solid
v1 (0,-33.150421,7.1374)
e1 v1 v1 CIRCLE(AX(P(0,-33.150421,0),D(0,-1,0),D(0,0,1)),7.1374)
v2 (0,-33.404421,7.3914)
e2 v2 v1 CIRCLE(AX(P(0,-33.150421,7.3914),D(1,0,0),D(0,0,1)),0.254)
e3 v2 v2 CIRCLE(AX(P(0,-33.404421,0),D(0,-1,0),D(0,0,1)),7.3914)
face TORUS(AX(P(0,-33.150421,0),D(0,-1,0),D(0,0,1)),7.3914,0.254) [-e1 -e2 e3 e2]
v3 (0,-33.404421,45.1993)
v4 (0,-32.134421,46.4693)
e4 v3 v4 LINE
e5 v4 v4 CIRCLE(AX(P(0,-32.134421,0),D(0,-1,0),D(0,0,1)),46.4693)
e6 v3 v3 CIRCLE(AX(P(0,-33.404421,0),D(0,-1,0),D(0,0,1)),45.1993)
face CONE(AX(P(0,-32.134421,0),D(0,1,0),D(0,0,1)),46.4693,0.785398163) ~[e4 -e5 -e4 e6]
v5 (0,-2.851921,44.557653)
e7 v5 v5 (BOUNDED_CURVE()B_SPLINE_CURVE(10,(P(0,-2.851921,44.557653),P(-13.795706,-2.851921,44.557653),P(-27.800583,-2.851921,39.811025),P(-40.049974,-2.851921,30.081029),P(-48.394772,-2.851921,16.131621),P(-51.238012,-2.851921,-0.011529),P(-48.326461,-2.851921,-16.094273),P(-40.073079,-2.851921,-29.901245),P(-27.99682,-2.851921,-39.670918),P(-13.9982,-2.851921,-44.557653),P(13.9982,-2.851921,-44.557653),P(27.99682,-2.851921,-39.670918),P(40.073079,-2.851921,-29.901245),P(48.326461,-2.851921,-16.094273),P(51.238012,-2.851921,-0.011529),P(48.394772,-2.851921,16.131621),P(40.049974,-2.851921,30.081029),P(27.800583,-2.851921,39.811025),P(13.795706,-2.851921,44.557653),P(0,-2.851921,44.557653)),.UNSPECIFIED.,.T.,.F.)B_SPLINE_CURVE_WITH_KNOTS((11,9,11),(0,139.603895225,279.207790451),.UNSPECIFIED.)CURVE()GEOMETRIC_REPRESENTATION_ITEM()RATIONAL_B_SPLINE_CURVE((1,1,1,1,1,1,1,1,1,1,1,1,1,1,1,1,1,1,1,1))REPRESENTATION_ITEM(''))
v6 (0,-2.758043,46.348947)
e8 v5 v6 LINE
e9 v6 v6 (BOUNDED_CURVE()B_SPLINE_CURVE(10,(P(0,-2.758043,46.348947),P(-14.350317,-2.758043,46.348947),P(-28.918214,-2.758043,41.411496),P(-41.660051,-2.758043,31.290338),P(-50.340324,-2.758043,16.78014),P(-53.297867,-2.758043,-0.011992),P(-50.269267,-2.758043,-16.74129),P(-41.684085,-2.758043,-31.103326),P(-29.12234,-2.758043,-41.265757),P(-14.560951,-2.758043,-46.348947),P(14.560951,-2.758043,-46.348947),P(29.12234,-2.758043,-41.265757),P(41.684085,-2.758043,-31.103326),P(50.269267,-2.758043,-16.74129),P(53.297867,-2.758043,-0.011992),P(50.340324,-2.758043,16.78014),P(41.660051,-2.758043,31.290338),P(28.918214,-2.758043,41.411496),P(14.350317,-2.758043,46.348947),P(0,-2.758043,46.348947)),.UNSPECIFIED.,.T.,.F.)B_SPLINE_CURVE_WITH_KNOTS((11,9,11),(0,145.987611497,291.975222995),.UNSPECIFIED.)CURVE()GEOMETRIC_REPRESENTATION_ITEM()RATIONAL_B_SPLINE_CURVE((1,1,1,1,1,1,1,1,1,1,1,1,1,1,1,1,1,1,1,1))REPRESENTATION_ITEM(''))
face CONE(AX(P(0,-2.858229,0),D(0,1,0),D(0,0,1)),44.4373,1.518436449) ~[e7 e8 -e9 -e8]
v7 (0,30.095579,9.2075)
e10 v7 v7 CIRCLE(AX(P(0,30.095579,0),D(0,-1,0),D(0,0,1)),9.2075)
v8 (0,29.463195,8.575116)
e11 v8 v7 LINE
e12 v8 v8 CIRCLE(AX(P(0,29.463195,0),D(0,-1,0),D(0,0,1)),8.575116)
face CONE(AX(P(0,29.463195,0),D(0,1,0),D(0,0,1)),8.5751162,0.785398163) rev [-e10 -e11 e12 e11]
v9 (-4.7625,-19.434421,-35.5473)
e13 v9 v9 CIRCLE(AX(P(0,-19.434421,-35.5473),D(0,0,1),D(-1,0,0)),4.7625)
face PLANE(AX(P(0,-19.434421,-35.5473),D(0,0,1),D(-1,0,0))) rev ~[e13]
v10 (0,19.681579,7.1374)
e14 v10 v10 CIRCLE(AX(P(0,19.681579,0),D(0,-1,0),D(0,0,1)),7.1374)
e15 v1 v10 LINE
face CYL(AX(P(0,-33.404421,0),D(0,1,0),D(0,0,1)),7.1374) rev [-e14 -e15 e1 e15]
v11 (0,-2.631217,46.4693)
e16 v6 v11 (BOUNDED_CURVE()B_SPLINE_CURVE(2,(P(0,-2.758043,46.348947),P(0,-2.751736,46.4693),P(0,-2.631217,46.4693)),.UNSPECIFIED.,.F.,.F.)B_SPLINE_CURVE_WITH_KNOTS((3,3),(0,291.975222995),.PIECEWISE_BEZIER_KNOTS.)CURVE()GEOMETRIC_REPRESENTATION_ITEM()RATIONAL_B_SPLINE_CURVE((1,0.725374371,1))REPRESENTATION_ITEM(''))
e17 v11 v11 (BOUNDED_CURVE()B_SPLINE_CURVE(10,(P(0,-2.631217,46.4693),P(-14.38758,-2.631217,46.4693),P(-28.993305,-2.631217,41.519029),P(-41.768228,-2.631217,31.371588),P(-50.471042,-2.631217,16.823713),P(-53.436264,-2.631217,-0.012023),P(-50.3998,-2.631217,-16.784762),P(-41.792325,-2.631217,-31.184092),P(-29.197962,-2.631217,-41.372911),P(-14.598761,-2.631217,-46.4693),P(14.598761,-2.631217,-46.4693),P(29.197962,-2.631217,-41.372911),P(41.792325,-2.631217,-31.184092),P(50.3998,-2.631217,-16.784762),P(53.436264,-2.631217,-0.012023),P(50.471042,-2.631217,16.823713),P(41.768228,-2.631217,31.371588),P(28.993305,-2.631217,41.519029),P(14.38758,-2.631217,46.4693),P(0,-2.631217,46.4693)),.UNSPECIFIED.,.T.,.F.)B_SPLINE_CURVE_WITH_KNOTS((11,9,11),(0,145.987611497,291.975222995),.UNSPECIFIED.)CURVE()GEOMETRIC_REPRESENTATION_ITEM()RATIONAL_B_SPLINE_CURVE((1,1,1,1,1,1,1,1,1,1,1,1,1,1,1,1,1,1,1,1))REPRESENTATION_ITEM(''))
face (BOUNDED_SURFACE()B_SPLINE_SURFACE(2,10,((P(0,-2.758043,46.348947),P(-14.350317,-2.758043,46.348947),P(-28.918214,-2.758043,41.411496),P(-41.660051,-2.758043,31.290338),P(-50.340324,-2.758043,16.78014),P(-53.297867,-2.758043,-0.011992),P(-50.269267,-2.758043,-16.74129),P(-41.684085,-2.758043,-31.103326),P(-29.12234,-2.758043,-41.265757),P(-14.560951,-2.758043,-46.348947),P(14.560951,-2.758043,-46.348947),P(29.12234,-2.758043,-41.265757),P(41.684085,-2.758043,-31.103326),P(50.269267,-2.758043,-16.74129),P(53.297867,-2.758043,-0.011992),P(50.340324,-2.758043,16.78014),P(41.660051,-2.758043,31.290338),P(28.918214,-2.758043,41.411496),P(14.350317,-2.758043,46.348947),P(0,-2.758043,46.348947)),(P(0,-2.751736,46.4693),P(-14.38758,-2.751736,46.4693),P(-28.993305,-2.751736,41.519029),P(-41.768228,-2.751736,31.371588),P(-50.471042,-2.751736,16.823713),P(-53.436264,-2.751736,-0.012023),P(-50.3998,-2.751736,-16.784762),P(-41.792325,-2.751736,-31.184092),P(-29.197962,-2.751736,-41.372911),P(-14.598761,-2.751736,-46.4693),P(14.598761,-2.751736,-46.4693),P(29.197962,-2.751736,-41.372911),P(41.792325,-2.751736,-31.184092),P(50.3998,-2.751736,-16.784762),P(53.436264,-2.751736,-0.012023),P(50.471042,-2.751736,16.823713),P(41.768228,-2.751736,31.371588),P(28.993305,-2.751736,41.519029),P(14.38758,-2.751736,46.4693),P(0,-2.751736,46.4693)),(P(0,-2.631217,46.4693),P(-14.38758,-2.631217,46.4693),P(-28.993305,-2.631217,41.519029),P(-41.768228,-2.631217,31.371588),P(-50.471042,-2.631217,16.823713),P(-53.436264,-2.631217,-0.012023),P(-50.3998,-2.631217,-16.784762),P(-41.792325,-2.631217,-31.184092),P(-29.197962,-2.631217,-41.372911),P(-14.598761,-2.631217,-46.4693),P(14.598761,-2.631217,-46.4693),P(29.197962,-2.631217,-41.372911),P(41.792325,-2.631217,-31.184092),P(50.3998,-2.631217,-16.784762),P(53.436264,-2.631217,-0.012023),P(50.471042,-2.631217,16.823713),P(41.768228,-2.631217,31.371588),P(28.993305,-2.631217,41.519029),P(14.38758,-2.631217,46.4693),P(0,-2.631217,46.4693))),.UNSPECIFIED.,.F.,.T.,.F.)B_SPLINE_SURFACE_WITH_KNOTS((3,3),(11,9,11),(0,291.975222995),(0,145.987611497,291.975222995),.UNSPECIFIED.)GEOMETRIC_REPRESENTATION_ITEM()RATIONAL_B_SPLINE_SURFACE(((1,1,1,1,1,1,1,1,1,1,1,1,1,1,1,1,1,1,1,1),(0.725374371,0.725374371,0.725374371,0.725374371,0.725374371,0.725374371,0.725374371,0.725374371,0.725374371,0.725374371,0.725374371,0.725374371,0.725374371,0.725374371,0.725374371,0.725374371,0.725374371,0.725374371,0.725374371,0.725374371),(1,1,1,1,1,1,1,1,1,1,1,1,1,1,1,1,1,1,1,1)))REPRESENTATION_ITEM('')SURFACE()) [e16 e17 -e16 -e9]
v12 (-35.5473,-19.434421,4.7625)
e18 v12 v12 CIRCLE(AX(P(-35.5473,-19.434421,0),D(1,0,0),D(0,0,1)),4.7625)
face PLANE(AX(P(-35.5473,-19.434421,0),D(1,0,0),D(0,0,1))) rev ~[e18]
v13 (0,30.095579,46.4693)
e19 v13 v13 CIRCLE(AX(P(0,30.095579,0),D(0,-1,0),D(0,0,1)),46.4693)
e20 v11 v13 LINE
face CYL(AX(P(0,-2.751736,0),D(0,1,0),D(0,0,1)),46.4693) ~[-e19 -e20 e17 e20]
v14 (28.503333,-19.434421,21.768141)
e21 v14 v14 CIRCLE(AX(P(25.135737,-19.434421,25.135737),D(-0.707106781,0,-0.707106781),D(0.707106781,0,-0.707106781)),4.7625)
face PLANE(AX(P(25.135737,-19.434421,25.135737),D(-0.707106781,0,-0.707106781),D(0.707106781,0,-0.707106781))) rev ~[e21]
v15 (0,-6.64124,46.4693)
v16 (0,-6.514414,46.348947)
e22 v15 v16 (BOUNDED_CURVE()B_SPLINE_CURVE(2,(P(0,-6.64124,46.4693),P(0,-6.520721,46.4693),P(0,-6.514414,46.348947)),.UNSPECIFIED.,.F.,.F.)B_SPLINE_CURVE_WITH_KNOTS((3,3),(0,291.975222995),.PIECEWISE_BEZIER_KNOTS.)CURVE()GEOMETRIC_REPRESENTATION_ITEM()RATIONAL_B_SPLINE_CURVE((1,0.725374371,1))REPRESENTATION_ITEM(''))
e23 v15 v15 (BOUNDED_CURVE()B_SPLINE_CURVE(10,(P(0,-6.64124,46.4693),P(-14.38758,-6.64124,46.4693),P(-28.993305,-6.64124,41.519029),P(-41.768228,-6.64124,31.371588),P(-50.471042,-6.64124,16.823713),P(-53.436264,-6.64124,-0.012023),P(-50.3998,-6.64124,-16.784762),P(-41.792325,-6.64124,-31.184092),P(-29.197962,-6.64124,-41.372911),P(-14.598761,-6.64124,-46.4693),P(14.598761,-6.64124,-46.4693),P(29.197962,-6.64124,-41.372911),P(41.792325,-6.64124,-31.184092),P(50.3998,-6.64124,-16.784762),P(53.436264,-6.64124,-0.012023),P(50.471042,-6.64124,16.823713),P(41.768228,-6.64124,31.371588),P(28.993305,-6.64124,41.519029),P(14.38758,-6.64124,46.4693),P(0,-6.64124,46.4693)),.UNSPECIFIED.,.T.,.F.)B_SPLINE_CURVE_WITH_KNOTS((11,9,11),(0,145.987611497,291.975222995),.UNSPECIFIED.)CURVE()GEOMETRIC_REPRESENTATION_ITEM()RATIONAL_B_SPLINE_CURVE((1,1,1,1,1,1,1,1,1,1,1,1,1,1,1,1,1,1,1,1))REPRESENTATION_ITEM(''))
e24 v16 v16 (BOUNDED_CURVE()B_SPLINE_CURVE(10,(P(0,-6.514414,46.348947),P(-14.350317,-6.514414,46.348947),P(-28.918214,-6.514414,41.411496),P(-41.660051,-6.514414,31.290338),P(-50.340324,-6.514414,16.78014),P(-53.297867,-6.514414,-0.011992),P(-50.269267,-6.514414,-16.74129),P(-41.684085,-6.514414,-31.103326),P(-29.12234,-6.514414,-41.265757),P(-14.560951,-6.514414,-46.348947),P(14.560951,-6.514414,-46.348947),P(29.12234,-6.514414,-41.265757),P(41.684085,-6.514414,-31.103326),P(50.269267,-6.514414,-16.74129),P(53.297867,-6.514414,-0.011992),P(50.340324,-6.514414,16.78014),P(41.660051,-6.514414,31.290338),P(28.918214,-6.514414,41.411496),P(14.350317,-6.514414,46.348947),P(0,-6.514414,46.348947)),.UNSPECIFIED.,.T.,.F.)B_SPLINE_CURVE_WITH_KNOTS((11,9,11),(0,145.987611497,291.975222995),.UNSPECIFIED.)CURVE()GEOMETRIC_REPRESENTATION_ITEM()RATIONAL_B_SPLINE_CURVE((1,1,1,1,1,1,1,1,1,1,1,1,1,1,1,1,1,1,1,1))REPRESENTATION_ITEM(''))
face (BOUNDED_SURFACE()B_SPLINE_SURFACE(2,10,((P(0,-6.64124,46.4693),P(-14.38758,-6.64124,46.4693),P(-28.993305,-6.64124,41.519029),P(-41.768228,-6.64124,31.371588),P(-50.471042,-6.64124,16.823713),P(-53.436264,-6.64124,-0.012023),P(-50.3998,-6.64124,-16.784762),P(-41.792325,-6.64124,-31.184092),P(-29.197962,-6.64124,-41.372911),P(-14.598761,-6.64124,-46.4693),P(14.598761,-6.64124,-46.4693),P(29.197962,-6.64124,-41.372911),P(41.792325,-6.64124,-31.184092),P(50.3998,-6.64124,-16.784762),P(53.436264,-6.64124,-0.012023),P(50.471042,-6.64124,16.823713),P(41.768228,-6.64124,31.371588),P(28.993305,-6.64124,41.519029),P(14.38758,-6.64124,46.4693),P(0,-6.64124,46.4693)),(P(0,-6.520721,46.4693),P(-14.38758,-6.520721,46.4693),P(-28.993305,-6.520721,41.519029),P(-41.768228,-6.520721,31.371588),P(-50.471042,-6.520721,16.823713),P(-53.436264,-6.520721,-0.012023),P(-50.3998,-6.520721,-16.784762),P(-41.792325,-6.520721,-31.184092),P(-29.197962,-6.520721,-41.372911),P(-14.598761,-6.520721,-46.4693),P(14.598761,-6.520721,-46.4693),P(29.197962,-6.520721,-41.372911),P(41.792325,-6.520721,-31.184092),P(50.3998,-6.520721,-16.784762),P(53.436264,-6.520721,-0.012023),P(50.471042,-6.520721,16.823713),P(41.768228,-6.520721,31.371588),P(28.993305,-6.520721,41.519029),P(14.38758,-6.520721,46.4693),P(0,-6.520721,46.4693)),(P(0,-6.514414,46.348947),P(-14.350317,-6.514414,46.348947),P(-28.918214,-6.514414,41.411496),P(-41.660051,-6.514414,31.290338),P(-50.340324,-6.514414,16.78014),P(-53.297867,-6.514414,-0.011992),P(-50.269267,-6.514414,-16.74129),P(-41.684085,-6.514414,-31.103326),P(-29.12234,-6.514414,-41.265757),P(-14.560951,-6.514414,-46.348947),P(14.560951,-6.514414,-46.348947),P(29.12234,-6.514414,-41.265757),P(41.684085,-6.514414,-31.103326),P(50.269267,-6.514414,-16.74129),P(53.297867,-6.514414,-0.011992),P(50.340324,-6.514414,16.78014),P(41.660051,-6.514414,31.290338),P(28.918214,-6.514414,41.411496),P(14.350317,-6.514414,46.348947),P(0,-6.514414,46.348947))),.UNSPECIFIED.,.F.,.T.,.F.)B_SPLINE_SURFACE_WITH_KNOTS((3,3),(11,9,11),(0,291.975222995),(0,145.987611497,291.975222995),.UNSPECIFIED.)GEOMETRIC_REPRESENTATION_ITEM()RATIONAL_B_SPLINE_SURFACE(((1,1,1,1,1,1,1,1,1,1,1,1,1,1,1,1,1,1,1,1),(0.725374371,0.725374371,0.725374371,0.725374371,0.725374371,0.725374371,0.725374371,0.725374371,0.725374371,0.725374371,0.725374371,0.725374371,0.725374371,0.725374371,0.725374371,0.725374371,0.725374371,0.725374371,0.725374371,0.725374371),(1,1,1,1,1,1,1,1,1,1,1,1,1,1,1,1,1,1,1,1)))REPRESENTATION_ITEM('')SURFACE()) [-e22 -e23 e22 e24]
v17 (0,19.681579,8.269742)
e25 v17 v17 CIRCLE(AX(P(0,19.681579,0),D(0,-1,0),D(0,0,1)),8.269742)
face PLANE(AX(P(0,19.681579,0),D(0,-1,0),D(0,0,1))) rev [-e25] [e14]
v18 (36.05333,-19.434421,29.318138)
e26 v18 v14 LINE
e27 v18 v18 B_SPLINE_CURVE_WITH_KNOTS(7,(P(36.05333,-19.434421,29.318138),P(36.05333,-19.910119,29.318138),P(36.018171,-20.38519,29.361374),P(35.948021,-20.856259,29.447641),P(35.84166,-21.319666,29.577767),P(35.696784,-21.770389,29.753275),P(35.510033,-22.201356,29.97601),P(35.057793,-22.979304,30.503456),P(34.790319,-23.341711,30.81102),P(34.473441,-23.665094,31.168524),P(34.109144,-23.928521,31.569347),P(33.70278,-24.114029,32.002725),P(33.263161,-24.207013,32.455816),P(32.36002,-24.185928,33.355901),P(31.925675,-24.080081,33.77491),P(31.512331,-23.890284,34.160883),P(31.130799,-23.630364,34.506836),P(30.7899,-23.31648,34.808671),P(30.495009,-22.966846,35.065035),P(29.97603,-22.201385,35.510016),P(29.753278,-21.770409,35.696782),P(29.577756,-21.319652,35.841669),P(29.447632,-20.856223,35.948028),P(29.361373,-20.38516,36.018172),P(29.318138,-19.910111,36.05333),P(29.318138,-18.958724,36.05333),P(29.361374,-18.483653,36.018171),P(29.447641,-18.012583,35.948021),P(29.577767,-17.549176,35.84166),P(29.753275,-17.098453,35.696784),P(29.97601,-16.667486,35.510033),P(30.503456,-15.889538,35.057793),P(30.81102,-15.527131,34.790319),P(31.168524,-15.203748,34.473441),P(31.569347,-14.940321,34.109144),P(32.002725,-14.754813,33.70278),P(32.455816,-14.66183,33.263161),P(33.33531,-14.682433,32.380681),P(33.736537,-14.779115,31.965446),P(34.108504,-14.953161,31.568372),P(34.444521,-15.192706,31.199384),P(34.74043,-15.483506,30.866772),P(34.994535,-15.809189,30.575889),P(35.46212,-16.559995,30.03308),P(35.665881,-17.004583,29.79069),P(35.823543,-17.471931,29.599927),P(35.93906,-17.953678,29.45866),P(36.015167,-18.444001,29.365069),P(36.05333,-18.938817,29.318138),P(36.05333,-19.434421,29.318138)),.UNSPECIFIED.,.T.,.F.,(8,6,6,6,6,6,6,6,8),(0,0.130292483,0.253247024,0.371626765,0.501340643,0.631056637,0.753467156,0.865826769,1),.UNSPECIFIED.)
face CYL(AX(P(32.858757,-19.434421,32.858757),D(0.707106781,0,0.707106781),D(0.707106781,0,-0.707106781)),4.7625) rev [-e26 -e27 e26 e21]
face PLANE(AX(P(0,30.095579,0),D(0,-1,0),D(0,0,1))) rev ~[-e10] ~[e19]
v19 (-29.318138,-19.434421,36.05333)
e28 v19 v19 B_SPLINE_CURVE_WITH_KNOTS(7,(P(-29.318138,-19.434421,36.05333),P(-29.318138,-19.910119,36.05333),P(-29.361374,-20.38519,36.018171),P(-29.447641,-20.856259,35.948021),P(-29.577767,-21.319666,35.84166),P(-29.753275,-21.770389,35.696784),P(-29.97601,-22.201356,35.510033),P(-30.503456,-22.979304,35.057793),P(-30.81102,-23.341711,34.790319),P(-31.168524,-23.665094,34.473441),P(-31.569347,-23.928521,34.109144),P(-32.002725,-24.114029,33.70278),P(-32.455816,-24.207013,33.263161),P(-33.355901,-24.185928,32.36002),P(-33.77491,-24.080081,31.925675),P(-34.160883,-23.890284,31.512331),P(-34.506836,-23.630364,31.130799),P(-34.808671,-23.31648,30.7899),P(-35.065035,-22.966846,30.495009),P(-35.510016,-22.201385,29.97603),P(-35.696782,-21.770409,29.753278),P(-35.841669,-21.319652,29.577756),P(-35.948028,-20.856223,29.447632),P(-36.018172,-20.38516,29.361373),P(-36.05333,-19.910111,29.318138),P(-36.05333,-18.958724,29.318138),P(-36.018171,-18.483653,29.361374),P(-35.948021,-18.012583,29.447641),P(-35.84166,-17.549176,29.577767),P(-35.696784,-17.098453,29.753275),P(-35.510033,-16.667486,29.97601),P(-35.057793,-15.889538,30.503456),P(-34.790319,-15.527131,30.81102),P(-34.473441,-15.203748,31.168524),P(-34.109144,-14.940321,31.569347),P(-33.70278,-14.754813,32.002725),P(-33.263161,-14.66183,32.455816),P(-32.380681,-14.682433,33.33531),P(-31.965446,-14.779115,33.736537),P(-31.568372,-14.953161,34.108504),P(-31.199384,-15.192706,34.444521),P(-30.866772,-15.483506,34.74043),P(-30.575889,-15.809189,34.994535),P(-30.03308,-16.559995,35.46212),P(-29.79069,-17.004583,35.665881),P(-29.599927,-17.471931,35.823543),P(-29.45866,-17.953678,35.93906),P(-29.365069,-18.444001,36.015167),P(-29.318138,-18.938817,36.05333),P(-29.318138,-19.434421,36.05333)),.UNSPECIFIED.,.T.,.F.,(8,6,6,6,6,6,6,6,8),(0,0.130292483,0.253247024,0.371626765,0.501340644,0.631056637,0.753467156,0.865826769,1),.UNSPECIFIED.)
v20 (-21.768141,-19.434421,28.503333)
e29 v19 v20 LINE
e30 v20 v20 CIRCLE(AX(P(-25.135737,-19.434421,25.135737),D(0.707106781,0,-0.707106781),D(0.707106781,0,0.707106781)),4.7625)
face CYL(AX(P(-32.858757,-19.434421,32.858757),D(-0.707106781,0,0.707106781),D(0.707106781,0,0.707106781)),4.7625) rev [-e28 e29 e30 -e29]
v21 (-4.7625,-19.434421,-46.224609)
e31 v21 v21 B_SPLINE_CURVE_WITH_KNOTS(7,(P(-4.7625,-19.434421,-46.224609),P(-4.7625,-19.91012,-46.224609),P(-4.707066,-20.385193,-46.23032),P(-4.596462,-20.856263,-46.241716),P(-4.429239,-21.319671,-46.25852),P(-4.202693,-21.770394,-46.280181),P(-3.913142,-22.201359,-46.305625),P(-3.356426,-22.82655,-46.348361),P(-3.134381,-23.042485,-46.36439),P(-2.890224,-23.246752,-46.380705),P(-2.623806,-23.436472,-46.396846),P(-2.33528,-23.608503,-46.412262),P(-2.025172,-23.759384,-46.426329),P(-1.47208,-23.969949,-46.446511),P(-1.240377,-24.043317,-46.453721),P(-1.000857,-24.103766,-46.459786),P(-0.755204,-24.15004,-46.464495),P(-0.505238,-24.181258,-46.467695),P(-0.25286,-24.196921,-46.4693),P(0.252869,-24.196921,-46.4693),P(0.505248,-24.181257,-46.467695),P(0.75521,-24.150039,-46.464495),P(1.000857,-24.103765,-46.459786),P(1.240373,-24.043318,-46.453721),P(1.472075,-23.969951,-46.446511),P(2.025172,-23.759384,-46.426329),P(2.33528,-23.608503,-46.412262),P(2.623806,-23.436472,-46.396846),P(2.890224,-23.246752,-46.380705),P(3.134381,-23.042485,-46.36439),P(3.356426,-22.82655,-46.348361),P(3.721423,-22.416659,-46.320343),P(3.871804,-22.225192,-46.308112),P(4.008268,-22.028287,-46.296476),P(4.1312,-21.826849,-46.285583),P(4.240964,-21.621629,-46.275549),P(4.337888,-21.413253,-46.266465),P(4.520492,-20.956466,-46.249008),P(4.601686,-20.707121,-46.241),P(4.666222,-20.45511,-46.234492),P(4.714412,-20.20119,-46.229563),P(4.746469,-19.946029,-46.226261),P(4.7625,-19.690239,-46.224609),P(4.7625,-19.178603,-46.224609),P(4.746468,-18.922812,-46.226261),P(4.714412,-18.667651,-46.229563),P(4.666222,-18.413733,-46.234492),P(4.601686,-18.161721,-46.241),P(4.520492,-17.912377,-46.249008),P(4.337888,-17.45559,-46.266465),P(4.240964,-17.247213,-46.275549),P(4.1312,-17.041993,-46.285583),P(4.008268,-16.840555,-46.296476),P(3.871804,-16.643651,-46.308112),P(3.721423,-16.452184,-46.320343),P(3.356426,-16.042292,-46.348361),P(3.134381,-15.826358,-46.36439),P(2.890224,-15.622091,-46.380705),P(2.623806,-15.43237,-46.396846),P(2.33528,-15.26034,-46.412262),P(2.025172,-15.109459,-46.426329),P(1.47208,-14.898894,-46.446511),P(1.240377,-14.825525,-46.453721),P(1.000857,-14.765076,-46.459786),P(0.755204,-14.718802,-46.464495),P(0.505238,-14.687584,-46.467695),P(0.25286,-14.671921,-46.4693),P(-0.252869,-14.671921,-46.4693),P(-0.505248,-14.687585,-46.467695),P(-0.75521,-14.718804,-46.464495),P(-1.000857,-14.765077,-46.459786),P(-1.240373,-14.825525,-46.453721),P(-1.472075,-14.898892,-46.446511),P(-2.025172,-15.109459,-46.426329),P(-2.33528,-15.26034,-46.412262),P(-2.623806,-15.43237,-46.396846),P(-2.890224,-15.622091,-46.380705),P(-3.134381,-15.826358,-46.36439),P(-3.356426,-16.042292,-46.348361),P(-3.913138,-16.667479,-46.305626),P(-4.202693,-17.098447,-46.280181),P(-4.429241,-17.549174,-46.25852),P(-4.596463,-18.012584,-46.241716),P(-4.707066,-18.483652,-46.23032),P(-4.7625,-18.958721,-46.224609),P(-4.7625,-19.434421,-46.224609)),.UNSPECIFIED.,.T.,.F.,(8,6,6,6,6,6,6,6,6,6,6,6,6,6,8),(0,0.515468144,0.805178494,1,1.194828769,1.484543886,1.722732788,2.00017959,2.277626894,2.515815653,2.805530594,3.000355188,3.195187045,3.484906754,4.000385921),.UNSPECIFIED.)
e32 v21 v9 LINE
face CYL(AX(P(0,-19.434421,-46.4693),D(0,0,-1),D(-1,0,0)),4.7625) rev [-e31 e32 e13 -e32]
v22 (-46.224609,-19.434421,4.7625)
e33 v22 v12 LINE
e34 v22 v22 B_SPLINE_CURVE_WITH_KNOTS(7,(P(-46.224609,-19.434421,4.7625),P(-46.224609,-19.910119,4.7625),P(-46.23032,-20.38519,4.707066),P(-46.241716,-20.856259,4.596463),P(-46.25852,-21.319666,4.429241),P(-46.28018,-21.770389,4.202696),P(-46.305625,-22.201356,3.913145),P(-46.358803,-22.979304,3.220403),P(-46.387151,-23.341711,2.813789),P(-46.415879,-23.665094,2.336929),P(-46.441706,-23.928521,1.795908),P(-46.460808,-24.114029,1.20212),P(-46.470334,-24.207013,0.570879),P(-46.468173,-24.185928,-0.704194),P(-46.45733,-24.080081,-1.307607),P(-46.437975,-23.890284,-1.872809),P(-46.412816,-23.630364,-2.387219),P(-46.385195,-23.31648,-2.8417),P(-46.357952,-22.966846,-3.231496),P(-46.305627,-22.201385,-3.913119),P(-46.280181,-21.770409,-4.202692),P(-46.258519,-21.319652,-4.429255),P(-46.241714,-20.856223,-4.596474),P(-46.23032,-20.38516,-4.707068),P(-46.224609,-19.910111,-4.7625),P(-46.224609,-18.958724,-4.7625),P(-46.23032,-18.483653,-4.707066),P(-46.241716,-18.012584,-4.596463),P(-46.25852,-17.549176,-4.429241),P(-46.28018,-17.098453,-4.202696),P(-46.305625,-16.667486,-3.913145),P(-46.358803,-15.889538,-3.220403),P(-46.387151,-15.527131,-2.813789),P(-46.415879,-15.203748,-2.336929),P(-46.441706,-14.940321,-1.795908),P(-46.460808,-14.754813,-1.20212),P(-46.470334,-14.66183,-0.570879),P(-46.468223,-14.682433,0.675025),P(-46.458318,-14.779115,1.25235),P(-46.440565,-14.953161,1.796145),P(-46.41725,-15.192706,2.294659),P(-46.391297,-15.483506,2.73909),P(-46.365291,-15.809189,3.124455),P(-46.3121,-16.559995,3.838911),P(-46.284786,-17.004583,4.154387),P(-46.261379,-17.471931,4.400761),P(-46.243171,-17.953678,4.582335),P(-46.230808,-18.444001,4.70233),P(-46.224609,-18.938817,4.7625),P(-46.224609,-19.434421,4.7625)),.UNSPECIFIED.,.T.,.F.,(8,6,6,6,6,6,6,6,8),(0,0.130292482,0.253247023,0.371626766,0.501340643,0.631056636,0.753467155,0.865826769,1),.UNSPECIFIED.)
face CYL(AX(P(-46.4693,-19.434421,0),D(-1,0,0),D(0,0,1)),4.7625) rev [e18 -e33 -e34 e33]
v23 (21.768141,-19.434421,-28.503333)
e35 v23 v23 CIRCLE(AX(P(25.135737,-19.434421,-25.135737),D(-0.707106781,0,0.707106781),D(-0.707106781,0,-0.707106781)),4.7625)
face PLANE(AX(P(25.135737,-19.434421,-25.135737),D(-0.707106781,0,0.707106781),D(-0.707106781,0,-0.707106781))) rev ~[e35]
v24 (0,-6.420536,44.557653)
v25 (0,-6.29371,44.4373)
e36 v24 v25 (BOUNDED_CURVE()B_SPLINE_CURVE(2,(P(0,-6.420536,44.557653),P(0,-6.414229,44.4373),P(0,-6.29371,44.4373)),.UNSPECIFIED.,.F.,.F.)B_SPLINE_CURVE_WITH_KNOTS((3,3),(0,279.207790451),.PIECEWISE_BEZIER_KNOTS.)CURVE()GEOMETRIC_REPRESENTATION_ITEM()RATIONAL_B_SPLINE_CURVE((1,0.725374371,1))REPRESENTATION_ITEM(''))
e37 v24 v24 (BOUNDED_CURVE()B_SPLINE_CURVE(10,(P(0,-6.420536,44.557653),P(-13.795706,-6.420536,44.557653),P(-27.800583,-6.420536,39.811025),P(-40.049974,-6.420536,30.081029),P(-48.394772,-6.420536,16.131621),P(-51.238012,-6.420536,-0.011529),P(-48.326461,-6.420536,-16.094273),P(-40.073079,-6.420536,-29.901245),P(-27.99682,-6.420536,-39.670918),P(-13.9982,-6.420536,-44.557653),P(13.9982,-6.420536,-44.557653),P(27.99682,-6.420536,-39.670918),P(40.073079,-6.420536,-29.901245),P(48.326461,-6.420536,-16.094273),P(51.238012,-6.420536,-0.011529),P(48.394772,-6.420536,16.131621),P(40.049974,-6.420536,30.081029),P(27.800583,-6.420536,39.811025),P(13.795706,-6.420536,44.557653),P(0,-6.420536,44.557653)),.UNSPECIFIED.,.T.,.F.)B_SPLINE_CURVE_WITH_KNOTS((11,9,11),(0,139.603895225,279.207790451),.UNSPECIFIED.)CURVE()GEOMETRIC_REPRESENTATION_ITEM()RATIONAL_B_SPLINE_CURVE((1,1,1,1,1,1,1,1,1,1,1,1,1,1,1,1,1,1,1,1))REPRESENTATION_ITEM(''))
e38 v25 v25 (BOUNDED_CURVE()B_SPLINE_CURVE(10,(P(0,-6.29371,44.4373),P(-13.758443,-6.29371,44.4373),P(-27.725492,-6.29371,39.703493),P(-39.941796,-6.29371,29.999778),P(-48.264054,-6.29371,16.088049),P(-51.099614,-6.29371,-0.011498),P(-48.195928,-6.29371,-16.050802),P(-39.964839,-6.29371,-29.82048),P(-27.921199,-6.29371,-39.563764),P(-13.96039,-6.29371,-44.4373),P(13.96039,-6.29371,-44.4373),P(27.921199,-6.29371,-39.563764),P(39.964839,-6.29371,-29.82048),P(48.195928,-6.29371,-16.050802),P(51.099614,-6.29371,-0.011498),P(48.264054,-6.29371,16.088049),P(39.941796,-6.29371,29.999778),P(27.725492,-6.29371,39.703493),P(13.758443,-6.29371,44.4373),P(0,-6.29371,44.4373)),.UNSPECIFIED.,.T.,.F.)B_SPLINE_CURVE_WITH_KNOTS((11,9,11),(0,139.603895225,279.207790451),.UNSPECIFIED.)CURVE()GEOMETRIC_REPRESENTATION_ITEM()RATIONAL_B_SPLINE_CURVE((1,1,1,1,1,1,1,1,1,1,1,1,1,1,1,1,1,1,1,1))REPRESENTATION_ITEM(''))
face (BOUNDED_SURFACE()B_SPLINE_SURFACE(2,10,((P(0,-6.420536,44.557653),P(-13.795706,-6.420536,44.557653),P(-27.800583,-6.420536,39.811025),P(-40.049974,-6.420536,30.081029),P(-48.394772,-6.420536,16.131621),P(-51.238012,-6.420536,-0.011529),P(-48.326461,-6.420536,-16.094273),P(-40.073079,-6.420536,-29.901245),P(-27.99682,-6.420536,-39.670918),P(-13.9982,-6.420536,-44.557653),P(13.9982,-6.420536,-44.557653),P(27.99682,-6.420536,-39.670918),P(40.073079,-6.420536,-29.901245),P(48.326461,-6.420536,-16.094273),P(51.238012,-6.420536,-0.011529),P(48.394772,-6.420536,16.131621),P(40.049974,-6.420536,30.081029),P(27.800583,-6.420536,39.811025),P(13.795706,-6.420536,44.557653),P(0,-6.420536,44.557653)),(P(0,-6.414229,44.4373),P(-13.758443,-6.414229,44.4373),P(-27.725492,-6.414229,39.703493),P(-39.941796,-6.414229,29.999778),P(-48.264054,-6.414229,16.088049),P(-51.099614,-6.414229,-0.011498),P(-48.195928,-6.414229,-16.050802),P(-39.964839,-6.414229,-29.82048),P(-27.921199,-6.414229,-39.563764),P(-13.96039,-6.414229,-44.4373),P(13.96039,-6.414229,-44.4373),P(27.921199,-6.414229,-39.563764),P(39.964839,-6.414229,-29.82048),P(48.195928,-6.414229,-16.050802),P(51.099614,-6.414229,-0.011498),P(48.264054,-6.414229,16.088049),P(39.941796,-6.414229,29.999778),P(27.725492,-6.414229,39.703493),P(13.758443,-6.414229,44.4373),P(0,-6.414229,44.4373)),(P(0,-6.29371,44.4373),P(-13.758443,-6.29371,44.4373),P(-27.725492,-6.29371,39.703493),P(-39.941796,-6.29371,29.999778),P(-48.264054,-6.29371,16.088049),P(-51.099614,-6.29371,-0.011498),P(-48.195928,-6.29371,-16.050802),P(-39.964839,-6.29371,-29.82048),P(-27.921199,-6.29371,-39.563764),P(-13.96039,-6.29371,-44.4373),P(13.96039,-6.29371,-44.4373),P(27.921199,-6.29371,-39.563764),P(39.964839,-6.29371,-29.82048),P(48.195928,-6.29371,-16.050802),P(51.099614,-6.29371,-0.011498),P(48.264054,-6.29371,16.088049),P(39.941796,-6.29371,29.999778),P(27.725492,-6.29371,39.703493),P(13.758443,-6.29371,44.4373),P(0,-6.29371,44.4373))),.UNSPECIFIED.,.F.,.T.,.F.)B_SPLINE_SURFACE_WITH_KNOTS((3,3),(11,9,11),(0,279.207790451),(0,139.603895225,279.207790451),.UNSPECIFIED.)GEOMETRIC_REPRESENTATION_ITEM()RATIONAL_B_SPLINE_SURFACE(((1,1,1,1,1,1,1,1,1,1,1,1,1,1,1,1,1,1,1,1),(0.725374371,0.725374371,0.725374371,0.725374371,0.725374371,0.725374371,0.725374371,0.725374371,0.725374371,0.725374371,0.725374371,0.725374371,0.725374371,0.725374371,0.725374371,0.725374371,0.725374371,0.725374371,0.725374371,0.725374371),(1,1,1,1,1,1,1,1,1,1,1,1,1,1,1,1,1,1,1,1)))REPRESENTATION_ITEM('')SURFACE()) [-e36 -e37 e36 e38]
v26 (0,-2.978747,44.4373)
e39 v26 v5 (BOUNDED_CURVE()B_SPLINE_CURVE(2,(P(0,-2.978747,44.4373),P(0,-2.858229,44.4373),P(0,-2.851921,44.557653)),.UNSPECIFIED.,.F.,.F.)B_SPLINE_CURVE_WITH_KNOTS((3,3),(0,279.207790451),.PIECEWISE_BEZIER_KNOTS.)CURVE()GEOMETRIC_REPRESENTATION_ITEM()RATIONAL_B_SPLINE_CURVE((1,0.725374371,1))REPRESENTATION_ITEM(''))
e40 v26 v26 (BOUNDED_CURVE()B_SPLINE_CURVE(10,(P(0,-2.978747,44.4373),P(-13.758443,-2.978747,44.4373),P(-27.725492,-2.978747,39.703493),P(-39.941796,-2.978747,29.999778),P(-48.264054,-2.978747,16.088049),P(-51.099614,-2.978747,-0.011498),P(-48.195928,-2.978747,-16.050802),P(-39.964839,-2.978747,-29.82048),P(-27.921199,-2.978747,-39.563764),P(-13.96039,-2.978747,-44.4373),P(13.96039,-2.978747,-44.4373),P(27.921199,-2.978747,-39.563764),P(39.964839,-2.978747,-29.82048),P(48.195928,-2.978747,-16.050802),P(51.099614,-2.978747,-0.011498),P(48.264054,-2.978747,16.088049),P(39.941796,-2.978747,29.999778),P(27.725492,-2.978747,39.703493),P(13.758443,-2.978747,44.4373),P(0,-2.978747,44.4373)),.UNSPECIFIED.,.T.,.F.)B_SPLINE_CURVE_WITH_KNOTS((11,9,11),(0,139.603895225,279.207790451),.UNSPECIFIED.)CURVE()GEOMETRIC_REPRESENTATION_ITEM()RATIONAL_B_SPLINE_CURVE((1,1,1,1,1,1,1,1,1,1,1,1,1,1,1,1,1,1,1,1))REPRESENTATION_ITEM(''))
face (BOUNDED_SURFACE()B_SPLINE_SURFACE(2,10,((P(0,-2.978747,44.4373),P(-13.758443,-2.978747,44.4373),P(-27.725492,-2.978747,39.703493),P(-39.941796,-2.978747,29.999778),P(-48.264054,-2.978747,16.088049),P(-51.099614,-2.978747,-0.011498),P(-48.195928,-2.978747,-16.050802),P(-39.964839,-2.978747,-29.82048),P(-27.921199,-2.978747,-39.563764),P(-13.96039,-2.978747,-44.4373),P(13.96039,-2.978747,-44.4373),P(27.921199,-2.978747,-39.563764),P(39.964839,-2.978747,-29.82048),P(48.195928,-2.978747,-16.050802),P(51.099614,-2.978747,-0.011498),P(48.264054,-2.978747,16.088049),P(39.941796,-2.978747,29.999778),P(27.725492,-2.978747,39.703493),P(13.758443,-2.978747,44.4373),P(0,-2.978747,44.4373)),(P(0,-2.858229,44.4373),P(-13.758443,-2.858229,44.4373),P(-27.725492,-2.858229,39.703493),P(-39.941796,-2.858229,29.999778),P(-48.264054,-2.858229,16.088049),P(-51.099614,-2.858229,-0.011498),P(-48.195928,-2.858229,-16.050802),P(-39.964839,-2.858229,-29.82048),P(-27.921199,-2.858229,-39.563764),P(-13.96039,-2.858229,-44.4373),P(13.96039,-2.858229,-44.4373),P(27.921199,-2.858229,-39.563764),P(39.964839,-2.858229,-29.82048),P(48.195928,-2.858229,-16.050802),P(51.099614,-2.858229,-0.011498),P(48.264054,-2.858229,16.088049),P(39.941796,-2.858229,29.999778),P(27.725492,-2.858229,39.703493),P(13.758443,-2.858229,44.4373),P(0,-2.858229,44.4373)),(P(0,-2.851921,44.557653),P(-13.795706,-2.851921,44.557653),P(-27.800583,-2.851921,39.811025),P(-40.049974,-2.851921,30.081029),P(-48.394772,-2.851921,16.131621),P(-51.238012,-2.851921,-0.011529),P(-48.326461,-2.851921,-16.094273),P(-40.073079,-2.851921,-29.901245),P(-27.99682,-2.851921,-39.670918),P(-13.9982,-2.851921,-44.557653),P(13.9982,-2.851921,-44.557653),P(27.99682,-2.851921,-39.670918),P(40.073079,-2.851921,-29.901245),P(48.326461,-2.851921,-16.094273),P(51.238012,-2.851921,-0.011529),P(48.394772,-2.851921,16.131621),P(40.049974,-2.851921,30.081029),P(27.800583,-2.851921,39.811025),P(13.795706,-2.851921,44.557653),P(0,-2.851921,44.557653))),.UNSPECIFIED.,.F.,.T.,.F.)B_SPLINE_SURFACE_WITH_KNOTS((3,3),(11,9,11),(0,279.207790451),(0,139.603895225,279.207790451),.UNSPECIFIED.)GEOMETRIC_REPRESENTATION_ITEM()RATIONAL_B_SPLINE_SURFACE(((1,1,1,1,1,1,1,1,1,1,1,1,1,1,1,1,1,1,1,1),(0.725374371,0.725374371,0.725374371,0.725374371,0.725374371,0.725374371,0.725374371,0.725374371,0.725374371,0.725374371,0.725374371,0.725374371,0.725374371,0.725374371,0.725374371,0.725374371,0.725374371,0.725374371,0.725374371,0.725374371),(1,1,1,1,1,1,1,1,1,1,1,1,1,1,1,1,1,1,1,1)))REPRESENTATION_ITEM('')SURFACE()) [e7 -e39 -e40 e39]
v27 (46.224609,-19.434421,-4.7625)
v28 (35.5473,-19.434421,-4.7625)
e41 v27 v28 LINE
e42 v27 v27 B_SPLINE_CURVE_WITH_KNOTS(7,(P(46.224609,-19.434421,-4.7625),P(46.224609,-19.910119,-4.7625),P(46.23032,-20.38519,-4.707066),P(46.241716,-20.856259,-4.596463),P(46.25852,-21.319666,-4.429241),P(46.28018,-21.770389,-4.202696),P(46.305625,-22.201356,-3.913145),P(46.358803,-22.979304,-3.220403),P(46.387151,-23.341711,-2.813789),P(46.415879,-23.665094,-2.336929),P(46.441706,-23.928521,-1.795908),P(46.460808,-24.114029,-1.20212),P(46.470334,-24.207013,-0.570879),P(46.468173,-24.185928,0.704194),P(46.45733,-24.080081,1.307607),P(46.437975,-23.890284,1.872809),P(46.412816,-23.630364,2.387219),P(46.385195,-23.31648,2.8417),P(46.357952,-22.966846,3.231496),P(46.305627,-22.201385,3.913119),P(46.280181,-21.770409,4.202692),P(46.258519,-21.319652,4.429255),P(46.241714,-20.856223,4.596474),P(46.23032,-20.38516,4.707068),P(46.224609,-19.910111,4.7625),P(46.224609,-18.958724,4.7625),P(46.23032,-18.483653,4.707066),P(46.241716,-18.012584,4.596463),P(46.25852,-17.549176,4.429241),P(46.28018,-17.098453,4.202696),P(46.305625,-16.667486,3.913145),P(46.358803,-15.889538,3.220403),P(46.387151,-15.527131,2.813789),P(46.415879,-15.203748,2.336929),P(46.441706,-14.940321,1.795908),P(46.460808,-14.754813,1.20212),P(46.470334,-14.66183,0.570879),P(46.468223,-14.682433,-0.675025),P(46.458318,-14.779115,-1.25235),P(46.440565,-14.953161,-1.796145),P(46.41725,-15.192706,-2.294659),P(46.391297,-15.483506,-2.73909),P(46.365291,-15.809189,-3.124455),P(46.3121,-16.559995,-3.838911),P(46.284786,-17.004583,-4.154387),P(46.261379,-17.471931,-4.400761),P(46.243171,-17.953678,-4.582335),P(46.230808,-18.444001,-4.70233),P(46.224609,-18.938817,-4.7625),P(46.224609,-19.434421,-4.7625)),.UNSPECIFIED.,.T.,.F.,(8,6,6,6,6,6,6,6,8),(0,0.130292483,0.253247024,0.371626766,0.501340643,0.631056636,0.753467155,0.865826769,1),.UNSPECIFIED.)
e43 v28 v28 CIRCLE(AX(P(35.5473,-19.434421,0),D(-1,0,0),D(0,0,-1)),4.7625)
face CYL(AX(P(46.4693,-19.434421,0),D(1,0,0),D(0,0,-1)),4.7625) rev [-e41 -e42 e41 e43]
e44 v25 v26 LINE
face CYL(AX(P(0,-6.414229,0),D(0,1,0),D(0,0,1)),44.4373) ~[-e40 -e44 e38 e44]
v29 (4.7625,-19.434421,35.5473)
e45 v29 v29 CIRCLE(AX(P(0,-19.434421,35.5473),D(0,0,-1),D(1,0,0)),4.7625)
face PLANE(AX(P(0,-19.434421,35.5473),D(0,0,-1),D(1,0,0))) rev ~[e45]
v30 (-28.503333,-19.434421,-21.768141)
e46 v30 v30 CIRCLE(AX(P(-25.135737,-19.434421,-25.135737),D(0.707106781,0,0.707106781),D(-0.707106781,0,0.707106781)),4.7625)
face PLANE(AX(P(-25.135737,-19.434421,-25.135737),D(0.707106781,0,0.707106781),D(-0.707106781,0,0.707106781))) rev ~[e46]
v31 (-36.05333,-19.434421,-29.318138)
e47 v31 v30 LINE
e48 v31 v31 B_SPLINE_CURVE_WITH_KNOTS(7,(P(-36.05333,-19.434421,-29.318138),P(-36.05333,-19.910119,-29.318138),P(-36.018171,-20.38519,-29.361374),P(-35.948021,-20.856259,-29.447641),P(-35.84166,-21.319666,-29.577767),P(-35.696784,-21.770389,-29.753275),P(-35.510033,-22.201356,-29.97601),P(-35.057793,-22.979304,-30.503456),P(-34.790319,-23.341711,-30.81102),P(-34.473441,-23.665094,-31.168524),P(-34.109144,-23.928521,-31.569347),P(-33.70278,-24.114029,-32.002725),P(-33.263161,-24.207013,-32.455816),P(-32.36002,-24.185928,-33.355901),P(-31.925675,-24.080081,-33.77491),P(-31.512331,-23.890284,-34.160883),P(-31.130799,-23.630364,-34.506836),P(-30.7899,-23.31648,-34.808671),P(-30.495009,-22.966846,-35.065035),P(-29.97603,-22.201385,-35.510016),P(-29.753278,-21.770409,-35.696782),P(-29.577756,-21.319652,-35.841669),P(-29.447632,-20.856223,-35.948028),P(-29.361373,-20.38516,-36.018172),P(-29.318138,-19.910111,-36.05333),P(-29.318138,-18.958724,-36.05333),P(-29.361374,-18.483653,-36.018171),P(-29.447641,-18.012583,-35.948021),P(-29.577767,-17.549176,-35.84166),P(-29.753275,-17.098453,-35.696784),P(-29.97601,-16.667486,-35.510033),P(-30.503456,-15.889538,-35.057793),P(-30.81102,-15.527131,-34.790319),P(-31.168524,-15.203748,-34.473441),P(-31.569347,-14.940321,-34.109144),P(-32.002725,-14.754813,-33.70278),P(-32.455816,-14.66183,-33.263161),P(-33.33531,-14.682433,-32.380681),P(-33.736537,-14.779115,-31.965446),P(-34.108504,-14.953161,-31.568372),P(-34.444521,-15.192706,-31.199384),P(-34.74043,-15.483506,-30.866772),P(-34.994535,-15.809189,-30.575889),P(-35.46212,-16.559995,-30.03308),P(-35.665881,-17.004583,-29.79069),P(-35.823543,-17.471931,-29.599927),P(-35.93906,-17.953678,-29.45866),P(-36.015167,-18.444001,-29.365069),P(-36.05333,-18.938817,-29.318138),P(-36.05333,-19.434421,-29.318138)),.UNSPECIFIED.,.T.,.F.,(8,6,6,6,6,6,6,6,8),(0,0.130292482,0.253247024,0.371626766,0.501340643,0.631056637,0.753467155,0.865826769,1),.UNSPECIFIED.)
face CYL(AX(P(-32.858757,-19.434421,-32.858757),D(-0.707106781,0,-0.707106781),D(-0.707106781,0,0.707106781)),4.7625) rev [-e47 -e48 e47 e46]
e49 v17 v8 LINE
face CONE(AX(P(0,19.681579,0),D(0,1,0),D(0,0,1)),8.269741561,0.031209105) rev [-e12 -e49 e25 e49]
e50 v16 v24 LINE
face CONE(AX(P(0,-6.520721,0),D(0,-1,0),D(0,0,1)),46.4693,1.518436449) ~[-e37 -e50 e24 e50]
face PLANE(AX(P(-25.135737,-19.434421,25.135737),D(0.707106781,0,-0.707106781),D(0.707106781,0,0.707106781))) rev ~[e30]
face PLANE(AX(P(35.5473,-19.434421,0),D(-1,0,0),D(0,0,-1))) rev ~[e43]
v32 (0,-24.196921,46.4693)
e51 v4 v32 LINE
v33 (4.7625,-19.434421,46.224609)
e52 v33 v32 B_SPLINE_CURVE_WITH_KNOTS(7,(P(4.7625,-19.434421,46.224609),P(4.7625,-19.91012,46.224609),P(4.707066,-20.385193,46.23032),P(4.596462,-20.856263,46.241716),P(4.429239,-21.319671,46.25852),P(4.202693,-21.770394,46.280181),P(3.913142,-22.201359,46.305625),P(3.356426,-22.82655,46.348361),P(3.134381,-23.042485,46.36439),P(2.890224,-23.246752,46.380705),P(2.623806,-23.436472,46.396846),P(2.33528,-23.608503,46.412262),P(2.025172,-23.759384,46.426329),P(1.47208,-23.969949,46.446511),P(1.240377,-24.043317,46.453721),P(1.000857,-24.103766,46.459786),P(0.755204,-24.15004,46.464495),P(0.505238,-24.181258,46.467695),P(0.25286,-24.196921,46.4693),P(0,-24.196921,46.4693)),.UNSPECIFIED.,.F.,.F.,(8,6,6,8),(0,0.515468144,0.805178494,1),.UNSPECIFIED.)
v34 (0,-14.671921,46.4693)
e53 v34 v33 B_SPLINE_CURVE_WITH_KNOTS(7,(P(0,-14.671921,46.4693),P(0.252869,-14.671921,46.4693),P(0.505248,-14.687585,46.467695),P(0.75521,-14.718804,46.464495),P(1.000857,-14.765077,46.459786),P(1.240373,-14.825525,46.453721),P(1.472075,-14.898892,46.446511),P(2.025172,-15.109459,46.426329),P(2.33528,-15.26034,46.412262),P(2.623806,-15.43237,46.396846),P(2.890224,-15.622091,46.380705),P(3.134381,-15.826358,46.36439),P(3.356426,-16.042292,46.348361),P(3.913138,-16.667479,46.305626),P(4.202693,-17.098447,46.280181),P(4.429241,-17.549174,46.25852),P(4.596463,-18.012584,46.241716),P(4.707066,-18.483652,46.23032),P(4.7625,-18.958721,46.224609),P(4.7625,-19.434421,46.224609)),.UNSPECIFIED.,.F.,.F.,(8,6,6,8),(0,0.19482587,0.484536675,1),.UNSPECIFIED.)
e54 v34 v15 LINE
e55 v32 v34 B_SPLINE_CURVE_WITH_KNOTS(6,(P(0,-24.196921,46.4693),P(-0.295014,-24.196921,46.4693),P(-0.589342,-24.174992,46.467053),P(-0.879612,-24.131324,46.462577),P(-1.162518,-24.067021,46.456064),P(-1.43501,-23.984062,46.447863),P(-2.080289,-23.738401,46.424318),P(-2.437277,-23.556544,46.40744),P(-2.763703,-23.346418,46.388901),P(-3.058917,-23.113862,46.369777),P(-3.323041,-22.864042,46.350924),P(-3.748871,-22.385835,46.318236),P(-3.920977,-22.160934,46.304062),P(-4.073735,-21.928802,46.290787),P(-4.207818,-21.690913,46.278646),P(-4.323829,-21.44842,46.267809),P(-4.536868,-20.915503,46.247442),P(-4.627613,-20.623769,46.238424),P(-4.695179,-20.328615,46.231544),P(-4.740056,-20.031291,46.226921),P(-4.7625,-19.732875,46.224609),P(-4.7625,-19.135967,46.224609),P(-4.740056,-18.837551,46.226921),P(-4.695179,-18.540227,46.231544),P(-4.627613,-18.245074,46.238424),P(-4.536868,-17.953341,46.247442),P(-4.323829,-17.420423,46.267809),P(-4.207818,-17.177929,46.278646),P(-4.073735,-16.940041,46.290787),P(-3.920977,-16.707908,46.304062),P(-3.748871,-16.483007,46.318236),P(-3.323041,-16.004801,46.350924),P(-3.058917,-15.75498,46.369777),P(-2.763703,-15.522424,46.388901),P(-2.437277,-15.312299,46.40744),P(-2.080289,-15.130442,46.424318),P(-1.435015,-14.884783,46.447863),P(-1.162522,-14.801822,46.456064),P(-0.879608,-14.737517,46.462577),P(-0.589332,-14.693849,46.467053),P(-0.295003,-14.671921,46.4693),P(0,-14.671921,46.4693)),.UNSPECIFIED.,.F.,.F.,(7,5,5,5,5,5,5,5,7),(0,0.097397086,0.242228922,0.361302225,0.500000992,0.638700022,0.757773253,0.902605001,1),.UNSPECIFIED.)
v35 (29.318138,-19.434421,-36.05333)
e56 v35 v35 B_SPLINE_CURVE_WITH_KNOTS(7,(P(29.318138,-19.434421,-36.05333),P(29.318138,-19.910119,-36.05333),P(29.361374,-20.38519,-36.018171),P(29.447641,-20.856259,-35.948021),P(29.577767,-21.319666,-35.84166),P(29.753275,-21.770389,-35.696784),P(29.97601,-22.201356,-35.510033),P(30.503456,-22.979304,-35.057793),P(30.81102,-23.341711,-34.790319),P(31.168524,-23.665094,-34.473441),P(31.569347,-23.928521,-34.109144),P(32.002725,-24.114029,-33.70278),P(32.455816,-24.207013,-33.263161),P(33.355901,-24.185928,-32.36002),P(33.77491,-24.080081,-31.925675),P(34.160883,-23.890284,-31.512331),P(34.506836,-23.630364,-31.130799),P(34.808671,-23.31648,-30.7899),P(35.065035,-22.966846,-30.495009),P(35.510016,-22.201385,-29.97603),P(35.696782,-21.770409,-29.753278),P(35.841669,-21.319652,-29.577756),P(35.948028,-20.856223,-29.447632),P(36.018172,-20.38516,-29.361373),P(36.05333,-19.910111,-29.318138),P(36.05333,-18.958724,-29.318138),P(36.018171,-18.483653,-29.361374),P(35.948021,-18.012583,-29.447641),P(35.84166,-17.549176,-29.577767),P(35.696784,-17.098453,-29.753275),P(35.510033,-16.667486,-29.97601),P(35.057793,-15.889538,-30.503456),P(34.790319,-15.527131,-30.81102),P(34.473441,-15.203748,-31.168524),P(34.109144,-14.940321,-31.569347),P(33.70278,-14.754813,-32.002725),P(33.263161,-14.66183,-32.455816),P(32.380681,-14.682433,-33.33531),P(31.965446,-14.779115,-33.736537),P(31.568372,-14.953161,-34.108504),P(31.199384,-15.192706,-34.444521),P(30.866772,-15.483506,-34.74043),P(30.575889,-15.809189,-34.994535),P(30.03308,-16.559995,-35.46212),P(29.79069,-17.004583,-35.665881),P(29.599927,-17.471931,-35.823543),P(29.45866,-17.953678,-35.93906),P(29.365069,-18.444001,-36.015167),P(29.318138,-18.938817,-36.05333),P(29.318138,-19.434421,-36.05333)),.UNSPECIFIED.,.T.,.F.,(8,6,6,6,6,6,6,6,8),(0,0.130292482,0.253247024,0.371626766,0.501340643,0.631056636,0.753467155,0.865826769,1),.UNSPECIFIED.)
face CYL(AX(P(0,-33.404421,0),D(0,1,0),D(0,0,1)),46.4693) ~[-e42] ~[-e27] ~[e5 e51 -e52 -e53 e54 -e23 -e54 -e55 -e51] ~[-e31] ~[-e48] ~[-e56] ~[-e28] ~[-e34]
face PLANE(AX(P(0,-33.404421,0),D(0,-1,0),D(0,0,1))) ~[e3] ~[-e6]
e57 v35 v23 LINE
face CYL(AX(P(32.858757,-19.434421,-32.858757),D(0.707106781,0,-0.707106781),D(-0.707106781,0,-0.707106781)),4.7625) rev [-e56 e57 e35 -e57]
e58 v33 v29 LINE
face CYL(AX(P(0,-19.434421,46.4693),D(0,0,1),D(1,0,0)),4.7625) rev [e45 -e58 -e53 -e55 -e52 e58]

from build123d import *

# Parameters (mm, degrees)
FILLET1_R          = 0.127
FILLET2_R          = 0.127
FILLET3_R          = 0.254
CHAMFER1_SIZE      = 1.27
SKETCH12_R         = 4.7625
CUT_EXTRUDE3_DEPTH = 10.922
CIRPATTERN1_COUNT  = 8


with BuildPart() as part:
    # Sketch1 → Revolve3 (revolve)
    with BuildSketch(Plane.XY, mode=Mode.PRIVATE) as revolve3_sk:
        Polygon((0, -33.404421277), (-46.4693, -33.404421277), (-46.4693, -6.520721208), (-44.4373, -6.414228601), (-44.4373, -2.858228601), (-46.4693, -2.751735993), (-46.4693, 30.095578723), (0, 30.095578723), align=None)
    revolve(revolve3_sk.sketch.rotate(Axis((0, 32.189409805, 0), (0, -1, 0)), 270), axis=Axis((0, 32.189409805, 0), (0, -1, 0)))

    # Fillet1
    fillet1_edges = [part.edges().sort_by_distance(p)[0] for p in [
        (0, -2.751735993, -46.4693),
        (0, -6.520721208, -46.4693),
    ]]
    fillet(fillet1_edges, radius=FILLET1_R)

    # Fillet2
    fillet2_edges = [part.edges().sort_by_distance(p)[0] for p in [
        (0, -2.858228601, -44.4373),
        (0, -6.414228601, -44.4373),
    ]]
    fillet(fillet2_edges, radius=FILLET2_R)

    # Sketch10 → 3/8 NPT Tapped Hole2 (revolve, cut)
    with BuildSketch(Plane(origin=(0, 30.095578723, 0), x_dir=(0, 0, 1), z_dir=(1, 0, 0))):
        Polygon((0, 0), (0, 63.5), (7.1374, 63.5), (7.1374, 10.414), (8.269741561, 10.414), (8.5751162, 0.6323838), (9.2075, 0), align=None)
    revolve(axis=Axis((0, 36.445578723, 0), (0, -1, 0)), mode=Mode.SUBTRACT)

    # Fillet3
    fillet3_edges = [part.edges().sort_by_distance(p)[0] for p in [
        (0, -33.404421277, -7.1374),
    ]]
    fillet(fillet3_edges, radius=FILLET3_R)

    # Chamfer1
    chamfer1_edges = [part.edges().sort_by_distance(p)[0] for p in [
        (0, -33.404421277, -46.4693),
    ]]
    chamfer(chamfer1_edges, length=CHAMFER1_SIZE)

    # Sketch12 → Cut-Extrude3 (cut)
    with BuildSketch(Plane(origin=(-46.4693, 0, 0), x_dir=(0, 0, -1), z_dir=(1, 0, 0))):
        with Locations(Location((0, -19.434421277, 0), (0, 0, 180))):
            Circle(SKETCH12_R)
    cut_extrude3 = extrude(amount=CUT_EXTRUDE3_DEPTH, mode=Mode.SUBTRACT)

    # CirPattern1: Cut-Extrude3 ×8 about axis
    cirpattern1_axis = Axis((0, 0, 0), (0, 1, 0))
    for i in range(1, CIRPATTERN1_COUNT):
        add(cut_extrude3.rotate(cirpattern1_axis, i * 360 / CIRPATTERN1_COUNT), mode=Mode.SUBTRACT)


solid = part.part
